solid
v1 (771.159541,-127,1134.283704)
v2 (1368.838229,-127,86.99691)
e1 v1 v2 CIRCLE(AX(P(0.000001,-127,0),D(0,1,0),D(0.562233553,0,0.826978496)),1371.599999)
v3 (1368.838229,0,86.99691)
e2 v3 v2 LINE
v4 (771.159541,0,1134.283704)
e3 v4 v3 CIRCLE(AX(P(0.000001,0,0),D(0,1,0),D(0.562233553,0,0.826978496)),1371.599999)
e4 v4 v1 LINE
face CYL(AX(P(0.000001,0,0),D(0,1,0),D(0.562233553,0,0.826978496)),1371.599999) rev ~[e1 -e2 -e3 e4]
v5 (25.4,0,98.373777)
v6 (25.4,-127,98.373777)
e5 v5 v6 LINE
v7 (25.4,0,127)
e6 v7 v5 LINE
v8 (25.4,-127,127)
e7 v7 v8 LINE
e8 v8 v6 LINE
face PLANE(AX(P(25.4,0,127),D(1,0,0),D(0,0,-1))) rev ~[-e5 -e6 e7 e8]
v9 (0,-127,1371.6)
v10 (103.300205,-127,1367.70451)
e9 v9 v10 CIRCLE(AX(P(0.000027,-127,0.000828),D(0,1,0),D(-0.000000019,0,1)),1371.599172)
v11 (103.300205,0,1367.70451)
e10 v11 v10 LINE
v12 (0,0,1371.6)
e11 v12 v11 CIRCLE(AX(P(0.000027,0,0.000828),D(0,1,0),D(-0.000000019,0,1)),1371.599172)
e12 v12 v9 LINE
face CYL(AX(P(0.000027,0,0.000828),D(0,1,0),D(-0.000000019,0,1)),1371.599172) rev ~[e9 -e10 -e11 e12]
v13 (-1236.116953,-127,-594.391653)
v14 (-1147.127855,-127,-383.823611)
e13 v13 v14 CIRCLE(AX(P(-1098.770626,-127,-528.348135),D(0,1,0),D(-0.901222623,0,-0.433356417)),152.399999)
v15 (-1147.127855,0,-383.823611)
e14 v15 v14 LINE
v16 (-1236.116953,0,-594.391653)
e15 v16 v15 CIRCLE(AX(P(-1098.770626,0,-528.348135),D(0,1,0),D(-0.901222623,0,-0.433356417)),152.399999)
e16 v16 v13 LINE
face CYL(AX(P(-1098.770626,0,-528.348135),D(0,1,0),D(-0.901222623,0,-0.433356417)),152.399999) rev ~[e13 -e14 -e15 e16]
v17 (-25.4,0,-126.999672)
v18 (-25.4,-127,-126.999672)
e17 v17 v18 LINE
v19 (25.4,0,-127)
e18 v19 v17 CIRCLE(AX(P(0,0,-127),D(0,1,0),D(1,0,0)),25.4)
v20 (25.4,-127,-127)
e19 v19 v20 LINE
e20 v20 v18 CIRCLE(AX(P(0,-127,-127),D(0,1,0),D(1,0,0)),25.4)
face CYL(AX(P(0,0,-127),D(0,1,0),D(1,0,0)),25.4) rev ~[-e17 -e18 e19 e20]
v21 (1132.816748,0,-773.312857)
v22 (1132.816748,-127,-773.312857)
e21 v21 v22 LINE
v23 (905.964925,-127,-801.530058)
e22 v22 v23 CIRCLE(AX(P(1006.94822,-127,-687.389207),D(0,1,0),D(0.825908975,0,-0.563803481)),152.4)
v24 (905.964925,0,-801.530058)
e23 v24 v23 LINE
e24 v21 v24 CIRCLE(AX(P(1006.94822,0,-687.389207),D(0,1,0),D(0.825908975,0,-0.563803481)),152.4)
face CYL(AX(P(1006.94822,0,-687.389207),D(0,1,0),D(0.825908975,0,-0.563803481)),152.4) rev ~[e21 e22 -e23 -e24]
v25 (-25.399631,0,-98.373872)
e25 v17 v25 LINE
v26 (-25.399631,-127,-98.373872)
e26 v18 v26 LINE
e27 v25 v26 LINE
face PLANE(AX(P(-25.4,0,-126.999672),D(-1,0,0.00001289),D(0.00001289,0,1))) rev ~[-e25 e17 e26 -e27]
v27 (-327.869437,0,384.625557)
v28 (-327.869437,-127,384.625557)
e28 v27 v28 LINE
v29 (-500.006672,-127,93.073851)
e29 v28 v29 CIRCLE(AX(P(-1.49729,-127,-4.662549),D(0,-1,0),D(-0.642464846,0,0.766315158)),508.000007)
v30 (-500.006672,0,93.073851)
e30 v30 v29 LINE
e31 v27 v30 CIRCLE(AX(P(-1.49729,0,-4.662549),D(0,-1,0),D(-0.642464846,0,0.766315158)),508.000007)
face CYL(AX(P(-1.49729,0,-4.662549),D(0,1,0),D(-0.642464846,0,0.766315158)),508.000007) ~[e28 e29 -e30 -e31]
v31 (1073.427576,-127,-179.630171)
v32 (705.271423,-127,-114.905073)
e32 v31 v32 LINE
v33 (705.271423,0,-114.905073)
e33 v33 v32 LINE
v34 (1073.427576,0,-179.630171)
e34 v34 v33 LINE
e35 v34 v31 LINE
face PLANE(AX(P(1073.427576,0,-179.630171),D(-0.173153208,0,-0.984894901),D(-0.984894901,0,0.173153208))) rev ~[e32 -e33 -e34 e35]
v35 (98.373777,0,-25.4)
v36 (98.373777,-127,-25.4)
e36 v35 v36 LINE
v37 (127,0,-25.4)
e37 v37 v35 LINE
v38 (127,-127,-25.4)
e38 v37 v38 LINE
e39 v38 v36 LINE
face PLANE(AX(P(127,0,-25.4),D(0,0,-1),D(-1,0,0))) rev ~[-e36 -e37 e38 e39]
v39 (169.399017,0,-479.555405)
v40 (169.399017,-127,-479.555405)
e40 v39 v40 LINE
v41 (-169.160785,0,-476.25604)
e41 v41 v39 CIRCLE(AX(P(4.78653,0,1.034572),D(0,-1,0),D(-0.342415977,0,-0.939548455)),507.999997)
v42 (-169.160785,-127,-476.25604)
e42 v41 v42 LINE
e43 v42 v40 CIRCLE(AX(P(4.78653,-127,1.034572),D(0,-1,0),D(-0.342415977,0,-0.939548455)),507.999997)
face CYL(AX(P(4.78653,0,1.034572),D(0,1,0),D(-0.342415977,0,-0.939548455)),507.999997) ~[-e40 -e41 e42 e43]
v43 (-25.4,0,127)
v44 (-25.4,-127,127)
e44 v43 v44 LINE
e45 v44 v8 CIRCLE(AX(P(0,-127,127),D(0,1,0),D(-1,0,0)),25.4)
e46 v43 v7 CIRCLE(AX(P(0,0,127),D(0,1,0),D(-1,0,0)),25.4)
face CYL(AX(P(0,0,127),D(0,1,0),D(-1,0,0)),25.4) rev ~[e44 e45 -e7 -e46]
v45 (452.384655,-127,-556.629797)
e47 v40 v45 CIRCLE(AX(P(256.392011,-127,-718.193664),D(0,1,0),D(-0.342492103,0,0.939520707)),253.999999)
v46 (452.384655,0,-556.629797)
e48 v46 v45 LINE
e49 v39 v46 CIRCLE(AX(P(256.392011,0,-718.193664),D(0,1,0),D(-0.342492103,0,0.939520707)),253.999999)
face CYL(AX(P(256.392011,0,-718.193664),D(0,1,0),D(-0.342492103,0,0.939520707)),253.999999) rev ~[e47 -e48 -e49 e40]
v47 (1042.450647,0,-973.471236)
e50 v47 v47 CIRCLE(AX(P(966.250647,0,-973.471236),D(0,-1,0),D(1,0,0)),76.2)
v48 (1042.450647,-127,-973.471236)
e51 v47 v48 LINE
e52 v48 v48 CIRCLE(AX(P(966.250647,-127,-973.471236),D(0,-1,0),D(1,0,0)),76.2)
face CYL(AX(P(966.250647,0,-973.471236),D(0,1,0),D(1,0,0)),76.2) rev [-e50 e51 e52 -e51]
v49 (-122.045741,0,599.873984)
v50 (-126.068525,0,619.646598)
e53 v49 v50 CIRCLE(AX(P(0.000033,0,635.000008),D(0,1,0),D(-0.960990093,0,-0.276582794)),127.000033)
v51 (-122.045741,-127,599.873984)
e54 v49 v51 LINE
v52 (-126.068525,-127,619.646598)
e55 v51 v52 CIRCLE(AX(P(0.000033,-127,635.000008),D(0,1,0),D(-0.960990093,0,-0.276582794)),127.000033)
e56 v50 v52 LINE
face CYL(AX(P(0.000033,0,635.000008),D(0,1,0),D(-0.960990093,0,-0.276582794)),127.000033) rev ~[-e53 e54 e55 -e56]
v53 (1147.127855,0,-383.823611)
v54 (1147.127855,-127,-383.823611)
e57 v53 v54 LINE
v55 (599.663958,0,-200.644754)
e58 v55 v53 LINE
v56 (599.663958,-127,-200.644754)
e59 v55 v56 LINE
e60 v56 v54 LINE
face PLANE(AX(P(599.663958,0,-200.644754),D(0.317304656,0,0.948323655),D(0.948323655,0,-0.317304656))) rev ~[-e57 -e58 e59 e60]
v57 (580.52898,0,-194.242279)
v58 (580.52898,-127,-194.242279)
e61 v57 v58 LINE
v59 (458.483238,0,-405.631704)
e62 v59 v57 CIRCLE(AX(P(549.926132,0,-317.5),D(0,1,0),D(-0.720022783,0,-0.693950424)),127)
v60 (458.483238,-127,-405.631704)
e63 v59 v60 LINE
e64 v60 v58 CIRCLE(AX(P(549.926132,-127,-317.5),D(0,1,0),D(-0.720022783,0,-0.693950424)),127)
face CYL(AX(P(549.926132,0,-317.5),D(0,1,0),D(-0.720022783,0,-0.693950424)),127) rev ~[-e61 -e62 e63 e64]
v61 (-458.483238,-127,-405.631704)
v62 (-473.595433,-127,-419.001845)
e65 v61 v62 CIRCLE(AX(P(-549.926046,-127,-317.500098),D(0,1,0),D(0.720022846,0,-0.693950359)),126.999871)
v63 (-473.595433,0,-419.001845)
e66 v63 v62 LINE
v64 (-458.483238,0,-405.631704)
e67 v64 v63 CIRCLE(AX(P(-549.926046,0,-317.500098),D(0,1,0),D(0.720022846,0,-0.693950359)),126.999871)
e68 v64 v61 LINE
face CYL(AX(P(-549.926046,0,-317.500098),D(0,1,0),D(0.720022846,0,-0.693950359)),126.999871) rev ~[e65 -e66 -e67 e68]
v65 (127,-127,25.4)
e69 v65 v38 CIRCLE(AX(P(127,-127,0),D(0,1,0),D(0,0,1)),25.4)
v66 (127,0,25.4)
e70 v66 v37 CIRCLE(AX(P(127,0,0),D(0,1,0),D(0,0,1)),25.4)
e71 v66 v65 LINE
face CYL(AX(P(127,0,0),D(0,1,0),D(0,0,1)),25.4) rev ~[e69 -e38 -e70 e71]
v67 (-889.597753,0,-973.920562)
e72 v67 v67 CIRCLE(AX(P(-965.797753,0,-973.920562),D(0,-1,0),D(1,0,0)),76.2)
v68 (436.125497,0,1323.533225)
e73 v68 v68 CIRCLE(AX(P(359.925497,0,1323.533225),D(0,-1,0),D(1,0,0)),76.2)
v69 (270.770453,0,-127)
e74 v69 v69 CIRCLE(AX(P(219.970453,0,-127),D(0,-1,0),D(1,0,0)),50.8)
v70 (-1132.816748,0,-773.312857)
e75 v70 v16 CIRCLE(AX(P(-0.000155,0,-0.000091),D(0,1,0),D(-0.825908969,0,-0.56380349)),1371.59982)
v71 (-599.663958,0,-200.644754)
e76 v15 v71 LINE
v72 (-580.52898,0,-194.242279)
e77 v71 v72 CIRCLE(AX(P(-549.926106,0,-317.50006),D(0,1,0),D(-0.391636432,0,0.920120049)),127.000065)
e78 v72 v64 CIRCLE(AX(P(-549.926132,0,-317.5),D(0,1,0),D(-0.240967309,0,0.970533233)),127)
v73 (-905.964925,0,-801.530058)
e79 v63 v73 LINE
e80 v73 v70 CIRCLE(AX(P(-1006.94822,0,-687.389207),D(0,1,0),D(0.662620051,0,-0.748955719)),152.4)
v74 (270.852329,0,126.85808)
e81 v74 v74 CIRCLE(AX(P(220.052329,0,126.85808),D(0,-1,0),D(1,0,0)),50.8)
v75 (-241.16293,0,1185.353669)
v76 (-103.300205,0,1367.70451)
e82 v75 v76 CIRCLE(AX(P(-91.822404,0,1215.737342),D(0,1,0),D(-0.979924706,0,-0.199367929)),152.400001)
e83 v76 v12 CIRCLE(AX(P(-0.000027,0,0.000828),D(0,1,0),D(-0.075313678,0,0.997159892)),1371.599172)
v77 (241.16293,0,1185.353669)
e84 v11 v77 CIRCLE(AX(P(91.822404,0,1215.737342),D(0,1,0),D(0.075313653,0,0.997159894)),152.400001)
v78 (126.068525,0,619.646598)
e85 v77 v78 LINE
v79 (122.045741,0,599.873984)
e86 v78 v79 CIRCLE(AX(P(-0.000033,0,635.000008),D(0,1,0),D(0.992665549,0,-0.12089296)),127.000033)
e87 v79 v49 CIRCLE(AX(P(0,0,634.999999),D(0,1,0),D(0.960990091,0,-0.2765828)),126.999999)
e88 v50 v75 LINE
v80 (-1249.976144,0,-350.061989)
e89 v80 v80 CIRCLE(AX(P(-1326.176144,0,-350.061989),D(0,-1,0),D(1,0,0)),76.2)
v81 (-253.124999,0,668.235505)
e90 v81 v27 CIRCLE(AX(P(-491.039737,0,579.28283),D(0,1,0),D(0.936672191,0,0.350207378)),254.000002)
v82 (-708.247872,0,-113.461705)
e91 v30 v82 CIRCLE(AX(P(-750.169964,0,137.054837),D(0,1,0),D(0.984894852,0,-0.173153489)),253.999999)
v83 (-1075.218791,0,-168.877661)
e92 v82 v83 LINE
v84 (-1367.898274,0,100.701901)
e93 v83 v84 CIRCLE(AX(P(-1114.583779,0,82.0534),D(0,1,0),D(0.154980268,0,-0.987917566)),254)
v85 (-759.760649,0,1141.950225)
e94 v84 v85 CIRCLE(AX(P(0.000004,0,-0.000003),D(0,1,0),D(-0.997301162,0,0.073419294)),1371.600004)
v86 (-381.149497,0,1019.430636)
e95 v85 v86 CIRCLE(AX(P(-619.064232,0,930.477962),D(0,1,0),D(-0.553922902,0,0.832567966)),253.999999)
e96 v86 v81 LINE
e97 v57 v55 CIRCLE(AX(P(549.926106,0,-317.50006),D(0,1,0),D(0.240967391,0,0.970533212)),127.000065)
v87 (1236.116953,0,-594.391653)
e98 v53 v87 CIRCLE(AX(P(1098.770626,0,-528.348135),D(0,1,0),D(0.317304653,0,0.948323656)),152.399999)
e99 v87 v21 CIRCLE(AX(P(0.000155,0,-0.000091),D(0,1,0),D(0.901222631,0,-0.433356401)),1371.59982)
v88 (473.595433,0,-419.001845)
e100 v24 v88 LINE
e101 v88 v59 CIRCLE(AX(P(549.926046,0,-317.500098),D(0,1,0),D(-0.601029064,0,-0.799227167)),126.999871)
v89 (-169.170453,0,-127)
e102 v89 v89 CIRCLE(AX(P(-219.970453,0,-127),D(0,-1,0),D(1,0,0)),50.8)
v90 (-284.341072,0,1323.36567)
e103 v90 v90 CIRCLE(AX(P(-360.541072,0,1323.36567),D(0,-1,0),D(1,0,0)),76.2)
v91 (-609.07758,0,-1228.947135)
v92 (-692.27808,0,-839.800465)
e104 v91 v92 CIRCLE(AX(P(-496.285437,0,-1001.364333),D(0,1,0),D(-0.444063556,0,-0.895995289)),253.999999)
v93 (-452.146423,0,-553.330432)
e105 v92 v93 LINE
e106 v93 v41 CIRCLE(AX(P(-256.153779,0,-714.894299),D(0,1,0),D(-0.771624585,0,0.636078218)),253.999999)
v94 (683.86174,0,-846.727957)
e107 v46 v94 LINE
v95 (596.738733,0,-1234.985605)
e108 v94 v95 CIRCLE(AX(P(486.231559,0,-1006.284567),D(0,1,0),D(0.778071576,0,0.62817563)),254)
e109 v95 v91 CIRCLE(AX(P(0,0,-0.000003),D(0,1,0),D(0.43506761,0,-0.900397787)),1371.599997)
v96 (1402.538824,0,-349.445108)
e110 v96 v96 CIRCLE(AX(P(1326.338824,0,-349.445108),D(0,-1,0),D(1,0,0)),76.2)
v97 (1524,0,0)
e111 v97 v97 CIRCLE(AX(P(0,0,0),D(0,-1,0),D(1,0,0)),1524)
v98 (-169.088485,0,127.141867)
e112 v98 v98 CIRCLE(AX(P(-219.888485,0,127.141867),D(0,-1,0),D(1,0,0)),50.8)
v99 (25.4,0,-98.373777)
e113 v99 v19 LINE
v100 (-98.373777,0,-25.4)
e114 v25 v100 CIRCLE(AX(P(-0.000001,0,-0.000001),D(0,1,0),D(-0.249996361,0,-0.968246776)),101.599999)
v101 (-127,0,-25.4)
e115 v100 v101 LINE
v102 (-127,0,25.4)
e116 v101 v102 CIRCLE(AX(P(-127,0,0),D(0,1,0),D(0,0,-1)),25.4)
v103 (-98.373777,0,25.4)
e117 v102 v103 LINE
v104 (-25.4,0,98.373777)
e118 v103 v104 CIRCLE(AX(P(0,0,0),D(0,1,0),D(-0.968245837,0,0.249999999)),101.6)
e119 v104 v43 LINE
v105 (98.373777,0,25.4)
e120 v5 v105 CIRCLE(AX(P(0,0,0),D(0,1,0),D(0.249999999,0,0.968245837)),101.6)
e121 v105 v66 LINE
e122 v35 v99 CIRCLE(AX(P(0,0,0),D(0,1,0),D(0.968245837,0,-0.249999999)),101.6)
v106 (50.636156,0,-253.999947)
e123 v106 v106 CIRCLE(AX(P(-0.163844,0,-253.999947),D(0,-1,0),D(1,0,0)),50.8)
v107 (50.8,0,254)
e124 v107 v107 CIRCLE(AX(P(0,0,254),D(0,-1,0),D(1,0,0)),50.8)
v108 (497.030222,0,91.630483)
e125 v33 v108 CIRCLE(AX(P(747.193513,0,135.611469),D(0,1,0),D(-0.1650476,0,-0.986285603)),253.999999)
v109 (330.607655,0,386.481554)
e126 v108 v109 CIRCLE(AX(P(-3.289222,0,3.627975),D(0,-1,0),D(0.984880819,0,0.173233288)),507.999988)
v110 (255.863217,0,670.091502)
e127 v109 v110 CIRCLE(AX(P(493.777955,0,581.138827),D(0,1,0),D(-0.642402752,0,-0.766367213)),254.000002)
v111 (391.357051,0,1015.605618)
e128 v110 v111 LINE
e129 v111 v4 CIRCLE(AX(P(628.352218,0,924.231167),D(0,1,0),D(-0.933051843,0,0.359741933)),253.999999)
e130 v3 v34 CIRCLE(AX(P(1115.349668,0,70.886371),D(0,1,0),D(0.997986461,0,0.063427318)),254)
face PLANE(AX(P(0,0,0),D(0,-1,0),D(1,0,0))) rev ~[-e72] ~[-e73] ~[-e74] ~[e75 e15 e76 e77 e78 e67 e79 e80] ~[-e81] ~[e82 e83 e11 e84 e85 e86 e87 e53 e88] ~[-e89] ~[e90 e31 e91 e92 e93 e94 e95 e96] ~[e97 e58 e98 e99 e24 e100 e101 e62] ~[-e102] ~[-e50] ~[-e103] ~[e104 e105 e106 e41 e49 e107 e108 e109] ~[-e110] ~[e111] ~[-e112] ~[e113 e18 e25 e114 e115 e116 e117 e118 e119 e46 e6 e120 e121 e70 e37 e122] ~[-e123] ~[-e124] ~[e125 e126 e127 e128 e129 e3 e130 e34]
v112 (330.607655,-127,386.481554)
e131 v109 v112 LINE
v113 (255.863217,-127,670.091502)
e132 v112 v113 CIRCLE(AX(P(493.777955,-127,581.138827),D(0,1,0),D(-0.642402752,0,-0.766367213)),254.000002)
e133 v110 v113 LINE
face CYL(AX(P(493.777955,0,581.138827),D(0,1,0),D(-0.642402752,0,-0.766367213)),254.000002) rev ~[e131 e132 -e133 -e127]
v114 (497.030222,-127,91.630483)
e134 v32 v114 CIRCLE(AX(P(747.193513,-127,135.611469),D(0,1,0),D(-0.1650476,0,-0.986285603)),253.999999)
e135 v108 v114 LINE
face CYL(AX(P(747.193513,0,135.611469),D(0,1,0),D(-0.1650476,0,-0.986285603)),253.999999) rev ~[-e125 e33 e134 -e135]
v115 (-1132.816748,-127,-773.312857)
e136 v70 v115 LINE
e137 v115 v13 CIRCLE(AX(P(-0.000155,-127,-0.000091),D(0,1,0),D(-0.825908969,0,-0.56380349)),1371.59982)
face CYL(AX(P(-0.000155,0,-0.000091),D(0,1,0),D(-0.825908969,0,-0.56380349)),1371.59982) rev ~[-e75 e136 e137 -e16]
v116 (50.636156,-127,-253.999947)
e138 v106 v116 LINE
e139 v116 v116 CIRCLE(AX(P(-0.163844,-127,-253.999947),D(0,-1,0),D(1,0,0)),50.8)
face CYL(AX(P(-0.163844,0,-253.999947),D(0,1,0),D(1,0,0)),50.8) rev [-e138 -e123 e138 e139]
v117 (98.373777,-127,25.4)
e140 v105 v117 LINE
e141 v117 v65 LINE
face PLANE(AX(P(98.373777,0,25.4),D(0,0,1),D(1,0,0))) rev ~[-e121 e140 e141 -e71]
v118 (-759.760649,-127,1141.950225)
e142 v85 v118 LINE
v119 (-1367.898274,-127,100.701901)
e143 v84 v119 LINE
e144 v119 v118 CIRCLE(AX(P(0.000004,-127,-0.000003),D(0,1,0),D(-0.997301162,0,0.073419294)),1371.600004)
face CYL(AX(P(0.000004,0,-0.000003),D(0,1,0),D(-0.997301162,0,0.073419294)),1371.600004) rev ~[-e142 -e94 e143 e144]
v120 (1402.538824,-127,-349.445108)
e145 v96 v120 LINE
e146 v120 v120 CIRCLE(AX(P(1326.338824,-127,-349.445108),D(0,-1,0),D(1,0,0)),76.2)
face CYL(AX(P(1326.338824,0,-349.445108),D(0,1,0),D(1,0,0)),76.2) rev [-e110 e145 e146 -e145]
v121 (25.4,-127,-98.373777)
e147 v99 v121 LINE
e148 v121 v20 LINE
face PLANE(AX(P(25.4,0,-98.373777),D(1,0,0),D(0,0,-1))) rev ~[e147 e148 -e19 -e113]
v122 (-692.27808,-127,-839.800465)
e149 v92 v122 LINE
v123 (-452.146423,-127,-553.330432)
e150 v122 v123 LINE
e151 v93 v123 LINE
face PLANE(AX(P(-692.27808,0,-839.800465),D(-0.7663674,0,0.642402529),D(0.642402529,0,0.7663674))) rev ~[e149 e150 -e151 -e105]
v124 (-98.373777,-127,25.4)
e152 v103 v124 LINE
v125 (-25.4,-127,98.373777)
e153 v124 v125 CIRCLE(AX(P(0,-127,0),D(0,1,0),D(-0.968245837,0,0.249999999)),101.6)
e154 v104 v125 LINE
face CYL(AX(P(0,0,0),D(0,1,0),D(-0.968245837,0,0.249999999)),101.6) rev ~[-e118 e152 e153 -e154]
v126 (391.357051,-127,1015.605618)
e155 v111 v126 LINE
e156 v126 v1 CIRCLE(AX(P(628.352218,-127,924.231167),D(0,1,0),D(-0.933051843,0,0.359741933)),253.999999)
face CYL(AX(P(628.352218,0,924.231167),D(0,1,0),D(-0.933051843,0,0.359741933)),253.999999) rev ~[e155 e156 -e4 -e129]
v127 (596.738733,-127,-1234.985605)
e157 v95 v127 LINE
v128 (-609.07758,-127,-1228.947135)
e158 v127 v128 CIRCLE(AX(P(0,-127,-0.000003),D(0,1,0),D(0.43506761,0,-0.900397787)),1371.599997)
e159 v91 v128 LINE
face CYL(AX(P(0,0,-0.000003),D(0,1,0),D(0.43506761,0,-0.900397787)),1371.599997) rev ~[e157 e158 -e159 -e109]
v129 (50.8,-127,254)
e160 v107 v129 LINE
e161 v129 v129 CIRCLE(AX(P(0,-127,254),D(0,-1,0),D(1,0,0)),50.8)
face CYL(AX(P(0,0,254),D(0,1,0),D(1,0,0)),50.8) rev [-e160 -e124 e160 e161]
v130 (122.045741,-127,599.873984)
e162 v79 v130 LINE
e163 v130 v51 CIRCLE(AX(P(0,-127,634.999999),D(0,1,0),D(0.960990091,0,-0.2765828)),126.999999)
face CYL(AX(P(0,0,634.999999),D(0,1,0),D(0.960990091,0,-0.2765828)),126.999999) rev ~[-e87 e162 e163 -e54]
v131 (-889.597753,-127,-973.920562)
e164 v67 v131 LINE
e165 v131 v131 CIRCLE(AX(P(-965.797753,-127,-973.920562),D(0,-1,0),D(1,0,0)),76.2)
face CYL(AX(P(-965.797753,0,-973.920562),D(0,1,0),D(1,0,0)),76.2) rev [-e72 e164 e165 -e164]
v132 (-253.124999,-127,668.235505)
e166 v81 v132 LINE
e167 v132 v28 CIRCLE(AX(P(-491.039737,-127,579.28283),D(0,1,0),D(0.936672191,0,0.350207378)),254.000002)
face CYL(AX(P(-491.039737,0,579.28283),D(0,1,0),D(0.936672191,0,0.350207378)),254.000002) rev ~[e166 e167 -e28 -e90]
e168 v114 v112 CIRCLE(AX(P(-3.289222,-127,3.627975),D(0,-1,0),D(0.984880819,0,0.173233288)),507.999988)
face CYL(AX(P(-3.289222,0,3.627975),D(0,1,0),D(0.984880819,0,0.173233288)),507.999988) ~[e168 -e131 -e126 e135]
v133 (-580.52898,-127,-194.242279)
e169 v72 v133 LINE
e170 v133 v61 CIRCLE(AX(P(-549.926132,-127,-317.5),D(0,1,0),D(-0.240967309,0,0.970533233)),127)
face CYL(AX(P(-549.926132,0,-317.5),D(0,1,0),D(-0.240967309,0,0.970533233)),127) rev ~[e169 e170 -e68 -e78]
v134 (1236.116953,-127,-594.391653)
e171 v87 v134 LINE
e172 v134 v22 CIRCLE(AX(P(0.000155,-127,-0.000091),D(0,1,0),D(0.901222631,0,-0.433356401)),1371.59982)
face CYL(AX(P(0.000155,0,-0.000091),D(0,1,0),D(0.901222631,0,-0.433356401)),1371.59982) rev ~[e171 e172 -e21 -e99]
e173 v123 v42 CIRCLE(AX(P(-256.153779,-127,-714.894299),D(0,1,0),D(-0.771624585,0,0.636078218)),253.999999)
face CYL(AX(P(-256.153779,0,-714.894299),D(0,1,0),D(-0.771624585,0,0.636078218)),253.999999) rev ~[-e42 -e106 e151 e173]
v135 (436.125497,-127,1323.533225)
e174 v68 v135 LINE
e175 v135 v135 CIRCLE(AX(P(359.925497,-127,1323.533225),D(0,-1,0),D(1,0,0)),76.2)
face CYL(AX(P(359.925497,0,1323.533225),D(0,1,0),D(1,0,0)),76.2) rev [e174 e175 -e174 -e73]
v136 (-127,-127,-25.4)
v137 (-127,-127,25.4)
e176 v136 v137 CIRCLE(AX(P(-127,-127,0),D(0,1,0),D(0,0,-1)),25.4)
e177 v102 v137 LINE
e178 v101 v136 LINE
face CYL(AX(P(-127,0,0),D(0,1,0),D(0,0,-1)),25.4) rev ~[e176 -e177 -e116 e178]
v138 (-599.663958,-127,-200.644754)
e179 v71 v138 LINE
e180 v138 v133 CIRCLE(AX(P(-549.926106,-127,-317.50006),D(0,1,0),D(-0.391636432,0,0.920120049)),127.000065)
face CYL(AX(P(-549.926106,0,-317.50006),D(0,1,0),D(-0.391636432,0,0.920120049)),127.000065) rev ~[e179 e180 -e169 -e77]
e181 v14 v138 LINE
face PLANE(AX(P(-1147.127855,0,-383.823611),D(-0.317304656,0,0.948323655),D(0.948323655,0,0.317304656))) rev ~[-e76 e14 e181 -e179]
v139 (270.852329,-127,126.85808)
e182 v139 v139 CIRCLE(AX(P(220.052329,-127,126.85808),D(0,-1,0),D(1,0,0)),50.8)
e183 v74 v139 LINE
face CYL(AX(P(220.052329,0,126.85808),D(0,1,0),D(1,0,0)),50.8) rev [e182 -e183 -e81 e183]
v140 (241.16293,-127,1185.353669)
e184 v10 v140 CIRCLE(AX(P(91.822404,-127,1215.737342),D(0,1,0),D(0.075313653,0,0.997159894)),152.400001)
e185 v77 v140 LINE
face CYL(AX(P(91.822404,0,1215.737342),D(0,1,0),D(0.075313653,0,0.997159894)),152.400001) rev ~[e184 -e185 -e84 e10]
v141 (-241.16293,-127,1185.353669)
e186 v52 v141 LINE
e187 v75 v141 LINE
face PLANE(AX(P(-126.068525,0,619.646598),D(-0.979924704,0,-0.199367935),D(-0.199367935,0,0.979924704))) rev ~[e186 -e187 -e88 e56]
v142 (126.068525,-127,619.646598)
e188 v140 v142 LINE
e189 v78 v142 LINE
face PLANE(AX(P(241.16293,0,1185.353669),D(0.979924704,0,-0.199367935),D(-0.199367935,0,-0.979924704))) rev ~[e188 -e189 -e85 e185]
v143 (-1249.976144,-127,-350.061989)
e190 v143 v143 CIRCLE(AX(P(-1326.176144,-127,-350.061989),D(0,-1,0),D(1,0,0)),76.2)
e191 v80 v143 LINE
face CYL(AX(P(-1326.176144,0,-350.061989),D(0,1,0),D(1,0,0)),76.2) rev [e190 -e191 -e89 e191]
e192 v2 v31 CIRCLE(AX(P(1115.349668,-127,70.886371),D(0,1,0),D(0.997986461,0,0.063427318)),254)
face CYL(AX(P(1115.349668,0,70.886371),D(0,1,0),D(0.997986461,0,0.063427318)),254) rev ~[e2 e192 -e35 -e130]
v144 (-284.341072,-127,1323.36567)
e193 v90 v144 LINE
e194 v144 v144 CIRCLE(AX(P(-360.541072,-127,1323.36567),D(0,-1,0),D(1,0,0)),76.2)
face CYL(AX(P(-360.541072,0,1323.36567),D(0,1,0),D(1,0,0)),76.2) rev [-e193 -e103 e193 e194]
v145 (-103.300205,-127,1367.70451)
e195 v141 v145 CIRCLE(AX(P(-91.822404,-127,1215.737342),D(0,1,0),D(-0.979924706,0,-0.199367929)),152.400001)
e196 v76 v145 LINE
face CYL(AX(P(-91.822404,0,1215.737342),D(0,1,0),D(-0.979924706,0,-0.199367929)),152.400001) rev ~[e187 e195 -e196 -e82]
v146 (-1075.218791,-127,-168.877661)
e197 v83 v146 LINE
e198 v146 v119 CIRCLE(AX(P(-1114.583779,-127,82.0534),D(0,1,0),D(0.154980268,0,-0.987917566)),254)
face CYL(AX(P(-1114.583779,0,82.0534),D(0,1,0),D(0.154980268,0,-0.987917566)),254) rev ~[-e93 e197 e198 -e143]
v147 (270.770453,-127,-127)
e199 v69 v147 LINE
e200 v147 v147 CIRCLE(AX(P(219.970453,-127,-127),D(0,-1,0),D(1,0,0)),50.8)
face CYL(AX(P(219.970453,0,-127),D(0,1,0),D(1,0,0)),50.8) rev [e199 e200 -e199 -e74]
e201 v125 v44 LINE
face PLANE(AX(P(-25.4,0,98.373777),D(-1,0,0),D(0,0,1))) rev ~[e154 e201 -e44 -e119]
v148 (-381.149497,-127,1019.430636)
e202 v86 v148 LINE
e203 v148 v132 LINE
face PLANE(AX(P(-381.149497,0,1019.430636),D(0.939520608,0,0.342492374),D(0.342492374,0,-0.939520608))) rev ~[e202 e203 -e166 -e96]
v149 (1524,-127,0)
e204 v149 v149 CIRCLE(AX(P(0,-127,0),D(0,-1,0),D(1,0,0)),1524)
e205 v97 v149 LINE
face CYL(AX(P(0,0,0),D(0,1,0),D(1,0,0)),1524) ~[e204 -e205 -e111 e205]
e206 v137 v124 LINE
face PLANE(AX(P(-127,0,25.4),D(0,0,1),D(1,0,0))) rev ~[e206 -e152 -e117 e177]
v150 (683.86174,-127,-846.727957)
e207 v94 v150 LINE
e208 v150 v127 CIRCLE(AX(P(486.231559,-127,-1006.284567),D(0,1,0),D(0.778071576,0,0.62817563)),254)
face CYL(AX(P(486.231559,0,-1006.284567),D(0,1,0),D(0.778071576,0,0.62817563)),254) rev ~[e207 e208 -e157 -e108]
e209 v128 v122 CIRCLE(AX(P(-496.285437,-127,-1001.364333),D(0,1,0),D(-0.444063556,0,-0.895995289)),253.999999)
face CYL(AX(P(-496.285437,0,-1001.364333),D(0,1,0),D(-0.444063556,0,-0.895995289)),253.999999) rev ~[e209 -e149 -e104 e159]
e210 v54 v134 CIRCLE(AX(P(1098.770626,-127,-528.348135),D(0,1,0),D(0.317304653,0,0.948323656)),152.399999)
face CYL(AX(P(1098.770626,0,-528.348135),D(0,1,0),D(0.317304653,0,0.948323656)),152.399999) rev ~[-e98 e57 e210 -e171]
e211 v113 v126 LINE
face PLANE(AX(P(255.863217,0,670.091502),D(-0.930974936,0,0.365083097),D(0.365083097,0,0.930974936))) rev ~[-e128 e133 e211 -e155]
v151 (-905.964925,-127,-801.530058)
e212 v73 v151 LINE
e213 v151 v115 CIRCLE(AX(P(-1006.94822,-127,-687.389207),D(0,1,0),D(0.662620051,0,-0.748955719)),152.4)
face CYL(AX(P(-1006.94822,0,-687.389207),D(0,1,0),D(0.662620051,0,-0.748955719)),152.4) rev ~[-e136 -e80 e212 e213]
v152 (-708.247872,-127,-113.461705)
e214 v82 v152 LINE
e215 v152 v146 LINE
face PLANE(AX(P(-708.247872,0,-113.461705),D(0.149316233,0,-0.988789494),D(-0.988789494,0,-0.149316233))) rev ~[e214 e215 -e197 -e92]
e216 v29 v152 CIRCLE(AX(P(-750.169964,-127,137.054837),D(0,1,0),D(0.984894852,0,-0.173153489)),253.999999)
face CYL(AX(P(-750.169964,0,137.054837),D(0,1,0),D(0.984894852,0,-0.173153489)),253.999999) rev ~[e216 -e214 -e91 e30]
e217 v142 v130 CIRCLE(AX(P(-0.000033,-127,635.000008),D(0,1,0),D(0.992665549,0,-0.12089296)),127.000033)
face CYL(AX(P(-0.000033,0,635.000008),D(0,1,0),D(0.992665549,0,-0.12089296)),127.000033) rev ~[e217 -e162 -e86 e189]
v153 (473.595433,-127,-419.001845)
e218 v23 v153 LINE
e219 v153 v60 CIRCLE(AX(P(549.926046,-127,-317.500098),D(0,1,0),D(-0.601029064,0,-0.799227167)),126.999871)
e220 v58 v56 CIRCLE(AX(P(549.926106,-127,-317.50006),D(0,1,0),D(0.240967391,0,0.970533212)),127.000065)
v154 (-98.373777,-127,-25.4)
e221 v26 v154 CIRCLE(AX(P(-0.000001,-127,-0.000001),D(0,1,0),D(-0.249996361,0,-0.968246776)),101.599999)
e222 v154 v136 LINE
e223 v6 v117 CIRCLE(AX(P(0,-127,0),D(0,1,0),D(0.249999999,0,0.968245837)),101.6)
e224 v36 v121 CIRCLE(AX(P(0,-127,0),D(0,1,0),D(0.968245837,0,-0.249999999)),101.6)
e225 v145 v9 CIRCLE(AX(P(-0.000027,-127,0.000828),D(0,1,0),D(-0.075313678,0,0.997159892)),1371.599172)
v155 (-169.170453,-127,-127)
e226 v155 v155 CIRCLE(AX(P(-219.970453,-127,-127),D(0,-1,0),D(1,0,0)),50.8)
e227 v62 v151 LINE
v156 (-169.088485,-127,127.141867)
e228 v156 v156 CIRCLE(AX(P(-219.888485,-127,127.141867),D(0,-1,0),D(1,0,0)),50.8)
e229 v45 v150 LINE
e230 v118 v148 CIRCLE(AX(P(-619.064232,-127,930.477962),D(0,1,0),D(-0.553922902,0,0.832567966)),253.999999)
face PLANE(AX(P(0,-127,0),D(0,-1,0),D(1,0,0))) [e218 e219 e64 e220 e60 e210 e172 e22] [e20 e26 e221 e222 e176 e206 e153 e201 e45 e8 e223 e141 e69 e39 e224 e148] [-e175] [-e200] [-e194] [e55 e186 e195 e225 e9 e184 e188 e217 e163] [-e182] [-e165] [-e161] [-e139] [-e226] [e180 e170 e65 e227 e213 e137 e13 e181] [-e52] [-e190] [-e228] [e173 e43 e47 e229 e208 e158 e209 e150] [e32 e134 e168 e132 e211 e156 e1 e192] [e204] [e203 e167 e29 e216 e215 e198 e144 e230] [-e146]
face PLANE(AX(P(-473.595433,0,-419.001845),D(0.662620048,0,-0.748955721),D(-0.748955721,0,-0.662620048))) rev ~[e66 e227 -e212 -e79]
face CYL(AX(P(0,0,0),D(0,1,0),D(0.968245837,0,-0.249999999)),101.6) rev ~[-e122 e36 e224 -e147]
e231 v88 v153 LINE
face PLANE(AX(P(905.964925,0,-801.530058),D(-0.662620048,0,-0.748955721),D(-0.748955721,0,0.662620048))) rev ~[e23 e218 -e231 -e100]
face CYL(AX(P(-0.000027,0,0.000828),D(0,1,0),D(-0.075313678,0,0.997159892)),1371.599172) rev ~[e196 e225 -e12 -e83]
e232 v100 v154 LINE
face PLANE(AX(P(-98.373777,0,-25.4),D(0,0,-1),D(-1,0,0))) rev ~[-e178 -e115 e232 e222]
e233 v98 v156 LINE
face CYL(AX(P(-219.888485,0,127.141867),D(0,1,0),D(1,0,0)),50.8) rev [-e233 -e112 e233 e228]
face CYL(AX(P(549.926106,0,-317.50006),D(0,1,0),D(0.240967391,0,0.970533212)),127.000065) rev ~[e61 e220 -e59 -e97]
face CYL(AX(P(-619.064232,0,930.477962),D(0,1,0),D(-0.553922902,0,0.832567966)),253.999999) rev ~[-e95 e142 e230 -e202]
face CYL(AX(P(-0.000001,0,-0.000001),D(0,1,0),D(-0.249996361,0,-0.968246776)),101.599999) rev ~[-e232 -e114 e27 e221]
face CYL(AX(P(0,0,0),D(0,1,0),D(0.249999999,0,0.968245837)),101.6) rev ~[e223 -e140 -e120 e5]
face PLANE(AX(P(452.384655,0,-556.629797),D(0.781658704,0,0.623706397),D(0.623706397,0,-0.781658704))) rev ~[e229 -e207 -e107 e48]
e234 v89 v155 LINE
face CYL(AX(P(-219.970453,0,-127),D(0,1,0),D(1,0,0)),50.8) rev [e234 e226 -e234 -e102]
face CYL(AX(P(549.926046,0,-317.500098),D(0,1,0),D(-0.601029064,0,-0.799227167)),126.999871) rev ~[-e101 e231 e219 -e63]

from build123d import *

# Parameters (mm, degrees)
F0_R     = 1524
F0_R_2   = 76.2
F0_R_3   = 381
F0_R_4   = 50.8
F1_DEPTH = 127


with BuildPart() as f1:
    # F0 (on Front) → F1 (new body)
    with BuildSketch(Plane.XZ):
        Circle(F0_R)
        with Locations((-965.797753, -973.920562)):
            Circle(F0_R_2, mode=Mode.SUBTRACT)
        with BuildLine():
            ThreePointArc((-452.146423, -553.330432), (-322.90216, -469.821548), (-169.160785, -476.25604))
            ThreePointArc((-169.160785, -476.25604), (-0.163844, -506.941304), (169.399017, -479.555405))
            ThreePointArc((169.399017, -479.555405), (323.140392, -473.120913), (452.384655, -556.629797))
            Line((452.384655, -556.629797), (683.86174, -846.727957))
            ThreePointArc((683.86174, -846.727957), (734.068517, -1061.897898), (596.738733, -1234.985605))
            ThreePointArc((596.738733, -1234.985605), (-6.868593, -1371.582802), (-609.07758, -1228.947135))
            ThreePointArc((-609.07758, -1228.947135), (-744.671817, -1054.469942), (-692.27808, -839.800465))
            Line((-692.27808, -839.800465), (-452.146423, -553.330432))
        make_face(mode=Mode.SUBTRACT)
        with BuildLine():
            ThreePointArc((-1132.816748, -773.312857), (-1187.840444, -685.8), (-1236.116953, -594.391653))
            ThreePointArc((-1236.116953, -594.391653), (-1239.14932, -469.02207), (-1147.127855, -383.823611))
            Line((-1147.127855, -383.823611), (-599.663958, -200.644754))
            ThreePointArc((-599.663958, -200.644754), (-590.223823, -197.062896), (-580.52898, -194.242279))
            ThreePointArc((-580.52898, -194.242279), (-439.940905, -254), (-458.483238, -405.631704))
            ThreePointArc((-458.483238, -405.631704), (-465.773385, -412.617377), (-473.595433, -419.001845))
            Line((-473.595433, -419.001845), (-905.964925, -801.530058))
            ThreePointArc((-905.964925, -801.530058), (-1025.759688, -838.623755), (-1132.816748, -773.312857))
        make_face(mode=Mode.SUBTRACT)
        with Locations((-1326.176144, -350.061989)):
            Circle(F0_R_2, mode=Mode.SUBTRACT)
        with Locations((966.250647, -973.471236)):
            Circle(F0_R_2, mode=Mode.SUBTRACT)
        with BuildLine():
            ThreePointArc((473.595433, -419.001845), (465.773385, -412.617377), (458.483238, -405.631704))
            ThreePointArc((458.483238, -405.631704), (439.940905, -254), (580.52898, -194.242279))
            ThreePointArc((580.52898, -194.242279), (590.223823, -197.062896), (599.663958, -200.644754))
            Line((599.663958, -200.644754), (1147.127855, -383.823611))
            ThreePointArc((1147.127855, -383.823611), (1239.14932, -469.02207), (1236.116953, -594.391653))
            ThreePointArc((1236.116953, -594.391653), (1187.840444, -685.8), (1132.816748, -773.312857))
            ThreePointArc((1132.816748, -773.312857), (1025.759688, -838.623755), (905.964925, -801.530058))
            Line((905.964925, -801.530058), (473.595433, -419.001845))
        make_face(mode=Mode.SUBTRACT)
        with Locations((1326.338824, -349.445108)):
            Circle(F0_R_2, mode=Mode.SUBTRACT)
        with BuildLine():
            ThreePointArc((-253.124999, 668.235505), (-245.426316, 514.552248), (-327.869437, 384.625557))
            ThreePointArc((-327.869437, 384.625557), (-438.942125, 253.612545), (-500.006672, 93.073851))
            ThreePointArc((-500.006672, 93.073851), (-571.304926, -43.287332), (-708.247872, -113.461705))
            Line((-708.247872, -113.461705), (-1075.218791, -168.877661))
            ThreePointArc((-1075.218791, -168.877661), (-1286.664815, -104.773035), (-1367.898274, 100.701901))
            ThreePointArc((-1367.898274, 100.701901), (-1184.391253, 691.739777), (-759.760649, 1141.950225))
            ThreePointArc((-759.760649, 1141.950225), (-540.861849, 1172.139682), (-381.149497, 1019.430636))
            Line((-381.149497, 1019.430636), (-253.124999, 668.235505))
        make_face(mode=Mode.SUBTRACT)
        with Locations((-360.541072, 1323.36567)):
            Circle(F0_R_2, mode=Mode.SUBTRACT)
        Circle(F0_R_3, mode=Mode.SUBTRACT)
        with BuildLine():
            ThreePointArc((705.271423, -114.905073), (568.328476, -44.7307), (497.030222, 91.630483))
            ThreePointArc((497.030222, 91.630483), (439.10597, 253.328759), (330.607655, 386.481554))
            ThreePointArc((330.607655, 386.481554), (248.164534, 516.408245), (255.863217, 670.091502))
            Line((255.863217, 670.091502), (391.357051, 1015.605618))
            ThreePointArc((391.357051, 1015.605618), (552.596297, 1166.670933), (771.159541, 1134.283704))
            ThreePointArc((771.159541, 1134.283704), (1191.259846, 679.843025), (1368.838229, 86.99691))
            ThreePointArc((1368.838229, 86.99691), (1285.533665, -117.66974), (1073.427576, -179.630171))
            Line((1073.427576, -179.630171), (705.271423, -114.905073))
        make_face(mode=Mode.SUBTRACT)
        with BuildLine():
            ThreePointArc((0, 1371.6), (51.686815, 1370.625782), (103.300205, 1367.70451))
            ThreePointArc((103.300205, 1367.70451), (213.389632, 1307.645825), (241.16293, 1185.353669))
            Line((241.16293, 1185.353669), (126.068525, 619.646598))
            ThreePointArc((126.068525, 619.646598), (124.450437, 609.680272), (122.045741, 599.873984))
            ThreePointArc((122.045741, 599.873984), (0, 508), (-122.045741, 599.873984))
            ThreePointArc((-122.045741, 599.873984), (-124.450437, 609.680272), (-126.068525, 619.646598))
            Line((-126.068525, 619.646598), (-241.16293, 1185.353669))
            ThreePointArc((-241.16293, 1185.353669), (-213.389632, 1307.645825), (-103.300205, 1367.70451))
            ThreePointArc((-103.300205, 1367.70451), (-51.686815, 1370.625782), (0, 1371.6))
        make_face(mode=Mode.SUBTRACT)
        with Locations((359.925497, 1323.533225)):
            Circle(F0_R_2, mode=Mode.SUBTRACT)
        Circle(F0_R_3)
        with Locations((-0.163844, -253.999947)):
            Circle(F0_R_4, mode=Mode.SUBTRACT)
        with Locations((-219.970453, -127)):
            Circle(F0_R_4, mode=Mode.SUBTRACT)
        with Locations((219.970453, -127)):
            Circle(F0_R_4, mode=Mode.SUBTRACT)
        with Locations((-219.888485, 127.141867)):
            Circle(F0_R_4, mode=Mode.SUBTRACT)
        with BuildLine():
            ThreePointArc((-25.399631, -98.373872), (-71.841914, -71.842184), (-98.373777, -25.4))
            Line((-98.373777, -25.4), (-127, -25.4))
            ThreePointArc((-127, -25.4), (-152.4, 0), (-127, 25.4))
            Line((-127, 25.4), (-98.373777, 25.4))
            ThreePointArc((-98.373777, 25.4), (-71.842049, 71.842049), (-25.4, 98.373777))
            Line((-25.4, 98.373777), (-25.4, 127))
            ThreePointArc((-25.4, 127), (0, 152.4), (25.4, 127))
            Line((25.4, 127), (25.4, 98.373777))
            ThreePointArc((25.4, 98.373777), (71.842049, 71.842049), (98.373777, 25.4))
            Line((98.373777, 25.4), (127, 25.4))
            ThreePointArc((127, 25.4), (152.4, 0), (127, -25.4))
            Line((127, -25.4), (98.373777, -25.4))
            ThreePointArc((98.373777, -25.4), (71.842049, -71.842049), (25.4, -98.373777))
            Line((25.4, -98.373777), (25.4, -127))
            ThreePointArc((25.4, -127), (-0.000164, -152.4), (-25.4, -126.999672))
            Line((-25.4, -126.999672), (-25.399631, -98.373872))
        make_face(mode=Mode.SUBTRACT)
        with Locations((220.052329, 126.85808)):
            Circle(F0_R_4, mode=Mode.SUBTRACT)
        with Locations((0, 254)):
            Circle(F0_R_4, mode=Mode.SUBTRACT)
    extrude(amount=F1_DEPTH)


solid = f1.part
